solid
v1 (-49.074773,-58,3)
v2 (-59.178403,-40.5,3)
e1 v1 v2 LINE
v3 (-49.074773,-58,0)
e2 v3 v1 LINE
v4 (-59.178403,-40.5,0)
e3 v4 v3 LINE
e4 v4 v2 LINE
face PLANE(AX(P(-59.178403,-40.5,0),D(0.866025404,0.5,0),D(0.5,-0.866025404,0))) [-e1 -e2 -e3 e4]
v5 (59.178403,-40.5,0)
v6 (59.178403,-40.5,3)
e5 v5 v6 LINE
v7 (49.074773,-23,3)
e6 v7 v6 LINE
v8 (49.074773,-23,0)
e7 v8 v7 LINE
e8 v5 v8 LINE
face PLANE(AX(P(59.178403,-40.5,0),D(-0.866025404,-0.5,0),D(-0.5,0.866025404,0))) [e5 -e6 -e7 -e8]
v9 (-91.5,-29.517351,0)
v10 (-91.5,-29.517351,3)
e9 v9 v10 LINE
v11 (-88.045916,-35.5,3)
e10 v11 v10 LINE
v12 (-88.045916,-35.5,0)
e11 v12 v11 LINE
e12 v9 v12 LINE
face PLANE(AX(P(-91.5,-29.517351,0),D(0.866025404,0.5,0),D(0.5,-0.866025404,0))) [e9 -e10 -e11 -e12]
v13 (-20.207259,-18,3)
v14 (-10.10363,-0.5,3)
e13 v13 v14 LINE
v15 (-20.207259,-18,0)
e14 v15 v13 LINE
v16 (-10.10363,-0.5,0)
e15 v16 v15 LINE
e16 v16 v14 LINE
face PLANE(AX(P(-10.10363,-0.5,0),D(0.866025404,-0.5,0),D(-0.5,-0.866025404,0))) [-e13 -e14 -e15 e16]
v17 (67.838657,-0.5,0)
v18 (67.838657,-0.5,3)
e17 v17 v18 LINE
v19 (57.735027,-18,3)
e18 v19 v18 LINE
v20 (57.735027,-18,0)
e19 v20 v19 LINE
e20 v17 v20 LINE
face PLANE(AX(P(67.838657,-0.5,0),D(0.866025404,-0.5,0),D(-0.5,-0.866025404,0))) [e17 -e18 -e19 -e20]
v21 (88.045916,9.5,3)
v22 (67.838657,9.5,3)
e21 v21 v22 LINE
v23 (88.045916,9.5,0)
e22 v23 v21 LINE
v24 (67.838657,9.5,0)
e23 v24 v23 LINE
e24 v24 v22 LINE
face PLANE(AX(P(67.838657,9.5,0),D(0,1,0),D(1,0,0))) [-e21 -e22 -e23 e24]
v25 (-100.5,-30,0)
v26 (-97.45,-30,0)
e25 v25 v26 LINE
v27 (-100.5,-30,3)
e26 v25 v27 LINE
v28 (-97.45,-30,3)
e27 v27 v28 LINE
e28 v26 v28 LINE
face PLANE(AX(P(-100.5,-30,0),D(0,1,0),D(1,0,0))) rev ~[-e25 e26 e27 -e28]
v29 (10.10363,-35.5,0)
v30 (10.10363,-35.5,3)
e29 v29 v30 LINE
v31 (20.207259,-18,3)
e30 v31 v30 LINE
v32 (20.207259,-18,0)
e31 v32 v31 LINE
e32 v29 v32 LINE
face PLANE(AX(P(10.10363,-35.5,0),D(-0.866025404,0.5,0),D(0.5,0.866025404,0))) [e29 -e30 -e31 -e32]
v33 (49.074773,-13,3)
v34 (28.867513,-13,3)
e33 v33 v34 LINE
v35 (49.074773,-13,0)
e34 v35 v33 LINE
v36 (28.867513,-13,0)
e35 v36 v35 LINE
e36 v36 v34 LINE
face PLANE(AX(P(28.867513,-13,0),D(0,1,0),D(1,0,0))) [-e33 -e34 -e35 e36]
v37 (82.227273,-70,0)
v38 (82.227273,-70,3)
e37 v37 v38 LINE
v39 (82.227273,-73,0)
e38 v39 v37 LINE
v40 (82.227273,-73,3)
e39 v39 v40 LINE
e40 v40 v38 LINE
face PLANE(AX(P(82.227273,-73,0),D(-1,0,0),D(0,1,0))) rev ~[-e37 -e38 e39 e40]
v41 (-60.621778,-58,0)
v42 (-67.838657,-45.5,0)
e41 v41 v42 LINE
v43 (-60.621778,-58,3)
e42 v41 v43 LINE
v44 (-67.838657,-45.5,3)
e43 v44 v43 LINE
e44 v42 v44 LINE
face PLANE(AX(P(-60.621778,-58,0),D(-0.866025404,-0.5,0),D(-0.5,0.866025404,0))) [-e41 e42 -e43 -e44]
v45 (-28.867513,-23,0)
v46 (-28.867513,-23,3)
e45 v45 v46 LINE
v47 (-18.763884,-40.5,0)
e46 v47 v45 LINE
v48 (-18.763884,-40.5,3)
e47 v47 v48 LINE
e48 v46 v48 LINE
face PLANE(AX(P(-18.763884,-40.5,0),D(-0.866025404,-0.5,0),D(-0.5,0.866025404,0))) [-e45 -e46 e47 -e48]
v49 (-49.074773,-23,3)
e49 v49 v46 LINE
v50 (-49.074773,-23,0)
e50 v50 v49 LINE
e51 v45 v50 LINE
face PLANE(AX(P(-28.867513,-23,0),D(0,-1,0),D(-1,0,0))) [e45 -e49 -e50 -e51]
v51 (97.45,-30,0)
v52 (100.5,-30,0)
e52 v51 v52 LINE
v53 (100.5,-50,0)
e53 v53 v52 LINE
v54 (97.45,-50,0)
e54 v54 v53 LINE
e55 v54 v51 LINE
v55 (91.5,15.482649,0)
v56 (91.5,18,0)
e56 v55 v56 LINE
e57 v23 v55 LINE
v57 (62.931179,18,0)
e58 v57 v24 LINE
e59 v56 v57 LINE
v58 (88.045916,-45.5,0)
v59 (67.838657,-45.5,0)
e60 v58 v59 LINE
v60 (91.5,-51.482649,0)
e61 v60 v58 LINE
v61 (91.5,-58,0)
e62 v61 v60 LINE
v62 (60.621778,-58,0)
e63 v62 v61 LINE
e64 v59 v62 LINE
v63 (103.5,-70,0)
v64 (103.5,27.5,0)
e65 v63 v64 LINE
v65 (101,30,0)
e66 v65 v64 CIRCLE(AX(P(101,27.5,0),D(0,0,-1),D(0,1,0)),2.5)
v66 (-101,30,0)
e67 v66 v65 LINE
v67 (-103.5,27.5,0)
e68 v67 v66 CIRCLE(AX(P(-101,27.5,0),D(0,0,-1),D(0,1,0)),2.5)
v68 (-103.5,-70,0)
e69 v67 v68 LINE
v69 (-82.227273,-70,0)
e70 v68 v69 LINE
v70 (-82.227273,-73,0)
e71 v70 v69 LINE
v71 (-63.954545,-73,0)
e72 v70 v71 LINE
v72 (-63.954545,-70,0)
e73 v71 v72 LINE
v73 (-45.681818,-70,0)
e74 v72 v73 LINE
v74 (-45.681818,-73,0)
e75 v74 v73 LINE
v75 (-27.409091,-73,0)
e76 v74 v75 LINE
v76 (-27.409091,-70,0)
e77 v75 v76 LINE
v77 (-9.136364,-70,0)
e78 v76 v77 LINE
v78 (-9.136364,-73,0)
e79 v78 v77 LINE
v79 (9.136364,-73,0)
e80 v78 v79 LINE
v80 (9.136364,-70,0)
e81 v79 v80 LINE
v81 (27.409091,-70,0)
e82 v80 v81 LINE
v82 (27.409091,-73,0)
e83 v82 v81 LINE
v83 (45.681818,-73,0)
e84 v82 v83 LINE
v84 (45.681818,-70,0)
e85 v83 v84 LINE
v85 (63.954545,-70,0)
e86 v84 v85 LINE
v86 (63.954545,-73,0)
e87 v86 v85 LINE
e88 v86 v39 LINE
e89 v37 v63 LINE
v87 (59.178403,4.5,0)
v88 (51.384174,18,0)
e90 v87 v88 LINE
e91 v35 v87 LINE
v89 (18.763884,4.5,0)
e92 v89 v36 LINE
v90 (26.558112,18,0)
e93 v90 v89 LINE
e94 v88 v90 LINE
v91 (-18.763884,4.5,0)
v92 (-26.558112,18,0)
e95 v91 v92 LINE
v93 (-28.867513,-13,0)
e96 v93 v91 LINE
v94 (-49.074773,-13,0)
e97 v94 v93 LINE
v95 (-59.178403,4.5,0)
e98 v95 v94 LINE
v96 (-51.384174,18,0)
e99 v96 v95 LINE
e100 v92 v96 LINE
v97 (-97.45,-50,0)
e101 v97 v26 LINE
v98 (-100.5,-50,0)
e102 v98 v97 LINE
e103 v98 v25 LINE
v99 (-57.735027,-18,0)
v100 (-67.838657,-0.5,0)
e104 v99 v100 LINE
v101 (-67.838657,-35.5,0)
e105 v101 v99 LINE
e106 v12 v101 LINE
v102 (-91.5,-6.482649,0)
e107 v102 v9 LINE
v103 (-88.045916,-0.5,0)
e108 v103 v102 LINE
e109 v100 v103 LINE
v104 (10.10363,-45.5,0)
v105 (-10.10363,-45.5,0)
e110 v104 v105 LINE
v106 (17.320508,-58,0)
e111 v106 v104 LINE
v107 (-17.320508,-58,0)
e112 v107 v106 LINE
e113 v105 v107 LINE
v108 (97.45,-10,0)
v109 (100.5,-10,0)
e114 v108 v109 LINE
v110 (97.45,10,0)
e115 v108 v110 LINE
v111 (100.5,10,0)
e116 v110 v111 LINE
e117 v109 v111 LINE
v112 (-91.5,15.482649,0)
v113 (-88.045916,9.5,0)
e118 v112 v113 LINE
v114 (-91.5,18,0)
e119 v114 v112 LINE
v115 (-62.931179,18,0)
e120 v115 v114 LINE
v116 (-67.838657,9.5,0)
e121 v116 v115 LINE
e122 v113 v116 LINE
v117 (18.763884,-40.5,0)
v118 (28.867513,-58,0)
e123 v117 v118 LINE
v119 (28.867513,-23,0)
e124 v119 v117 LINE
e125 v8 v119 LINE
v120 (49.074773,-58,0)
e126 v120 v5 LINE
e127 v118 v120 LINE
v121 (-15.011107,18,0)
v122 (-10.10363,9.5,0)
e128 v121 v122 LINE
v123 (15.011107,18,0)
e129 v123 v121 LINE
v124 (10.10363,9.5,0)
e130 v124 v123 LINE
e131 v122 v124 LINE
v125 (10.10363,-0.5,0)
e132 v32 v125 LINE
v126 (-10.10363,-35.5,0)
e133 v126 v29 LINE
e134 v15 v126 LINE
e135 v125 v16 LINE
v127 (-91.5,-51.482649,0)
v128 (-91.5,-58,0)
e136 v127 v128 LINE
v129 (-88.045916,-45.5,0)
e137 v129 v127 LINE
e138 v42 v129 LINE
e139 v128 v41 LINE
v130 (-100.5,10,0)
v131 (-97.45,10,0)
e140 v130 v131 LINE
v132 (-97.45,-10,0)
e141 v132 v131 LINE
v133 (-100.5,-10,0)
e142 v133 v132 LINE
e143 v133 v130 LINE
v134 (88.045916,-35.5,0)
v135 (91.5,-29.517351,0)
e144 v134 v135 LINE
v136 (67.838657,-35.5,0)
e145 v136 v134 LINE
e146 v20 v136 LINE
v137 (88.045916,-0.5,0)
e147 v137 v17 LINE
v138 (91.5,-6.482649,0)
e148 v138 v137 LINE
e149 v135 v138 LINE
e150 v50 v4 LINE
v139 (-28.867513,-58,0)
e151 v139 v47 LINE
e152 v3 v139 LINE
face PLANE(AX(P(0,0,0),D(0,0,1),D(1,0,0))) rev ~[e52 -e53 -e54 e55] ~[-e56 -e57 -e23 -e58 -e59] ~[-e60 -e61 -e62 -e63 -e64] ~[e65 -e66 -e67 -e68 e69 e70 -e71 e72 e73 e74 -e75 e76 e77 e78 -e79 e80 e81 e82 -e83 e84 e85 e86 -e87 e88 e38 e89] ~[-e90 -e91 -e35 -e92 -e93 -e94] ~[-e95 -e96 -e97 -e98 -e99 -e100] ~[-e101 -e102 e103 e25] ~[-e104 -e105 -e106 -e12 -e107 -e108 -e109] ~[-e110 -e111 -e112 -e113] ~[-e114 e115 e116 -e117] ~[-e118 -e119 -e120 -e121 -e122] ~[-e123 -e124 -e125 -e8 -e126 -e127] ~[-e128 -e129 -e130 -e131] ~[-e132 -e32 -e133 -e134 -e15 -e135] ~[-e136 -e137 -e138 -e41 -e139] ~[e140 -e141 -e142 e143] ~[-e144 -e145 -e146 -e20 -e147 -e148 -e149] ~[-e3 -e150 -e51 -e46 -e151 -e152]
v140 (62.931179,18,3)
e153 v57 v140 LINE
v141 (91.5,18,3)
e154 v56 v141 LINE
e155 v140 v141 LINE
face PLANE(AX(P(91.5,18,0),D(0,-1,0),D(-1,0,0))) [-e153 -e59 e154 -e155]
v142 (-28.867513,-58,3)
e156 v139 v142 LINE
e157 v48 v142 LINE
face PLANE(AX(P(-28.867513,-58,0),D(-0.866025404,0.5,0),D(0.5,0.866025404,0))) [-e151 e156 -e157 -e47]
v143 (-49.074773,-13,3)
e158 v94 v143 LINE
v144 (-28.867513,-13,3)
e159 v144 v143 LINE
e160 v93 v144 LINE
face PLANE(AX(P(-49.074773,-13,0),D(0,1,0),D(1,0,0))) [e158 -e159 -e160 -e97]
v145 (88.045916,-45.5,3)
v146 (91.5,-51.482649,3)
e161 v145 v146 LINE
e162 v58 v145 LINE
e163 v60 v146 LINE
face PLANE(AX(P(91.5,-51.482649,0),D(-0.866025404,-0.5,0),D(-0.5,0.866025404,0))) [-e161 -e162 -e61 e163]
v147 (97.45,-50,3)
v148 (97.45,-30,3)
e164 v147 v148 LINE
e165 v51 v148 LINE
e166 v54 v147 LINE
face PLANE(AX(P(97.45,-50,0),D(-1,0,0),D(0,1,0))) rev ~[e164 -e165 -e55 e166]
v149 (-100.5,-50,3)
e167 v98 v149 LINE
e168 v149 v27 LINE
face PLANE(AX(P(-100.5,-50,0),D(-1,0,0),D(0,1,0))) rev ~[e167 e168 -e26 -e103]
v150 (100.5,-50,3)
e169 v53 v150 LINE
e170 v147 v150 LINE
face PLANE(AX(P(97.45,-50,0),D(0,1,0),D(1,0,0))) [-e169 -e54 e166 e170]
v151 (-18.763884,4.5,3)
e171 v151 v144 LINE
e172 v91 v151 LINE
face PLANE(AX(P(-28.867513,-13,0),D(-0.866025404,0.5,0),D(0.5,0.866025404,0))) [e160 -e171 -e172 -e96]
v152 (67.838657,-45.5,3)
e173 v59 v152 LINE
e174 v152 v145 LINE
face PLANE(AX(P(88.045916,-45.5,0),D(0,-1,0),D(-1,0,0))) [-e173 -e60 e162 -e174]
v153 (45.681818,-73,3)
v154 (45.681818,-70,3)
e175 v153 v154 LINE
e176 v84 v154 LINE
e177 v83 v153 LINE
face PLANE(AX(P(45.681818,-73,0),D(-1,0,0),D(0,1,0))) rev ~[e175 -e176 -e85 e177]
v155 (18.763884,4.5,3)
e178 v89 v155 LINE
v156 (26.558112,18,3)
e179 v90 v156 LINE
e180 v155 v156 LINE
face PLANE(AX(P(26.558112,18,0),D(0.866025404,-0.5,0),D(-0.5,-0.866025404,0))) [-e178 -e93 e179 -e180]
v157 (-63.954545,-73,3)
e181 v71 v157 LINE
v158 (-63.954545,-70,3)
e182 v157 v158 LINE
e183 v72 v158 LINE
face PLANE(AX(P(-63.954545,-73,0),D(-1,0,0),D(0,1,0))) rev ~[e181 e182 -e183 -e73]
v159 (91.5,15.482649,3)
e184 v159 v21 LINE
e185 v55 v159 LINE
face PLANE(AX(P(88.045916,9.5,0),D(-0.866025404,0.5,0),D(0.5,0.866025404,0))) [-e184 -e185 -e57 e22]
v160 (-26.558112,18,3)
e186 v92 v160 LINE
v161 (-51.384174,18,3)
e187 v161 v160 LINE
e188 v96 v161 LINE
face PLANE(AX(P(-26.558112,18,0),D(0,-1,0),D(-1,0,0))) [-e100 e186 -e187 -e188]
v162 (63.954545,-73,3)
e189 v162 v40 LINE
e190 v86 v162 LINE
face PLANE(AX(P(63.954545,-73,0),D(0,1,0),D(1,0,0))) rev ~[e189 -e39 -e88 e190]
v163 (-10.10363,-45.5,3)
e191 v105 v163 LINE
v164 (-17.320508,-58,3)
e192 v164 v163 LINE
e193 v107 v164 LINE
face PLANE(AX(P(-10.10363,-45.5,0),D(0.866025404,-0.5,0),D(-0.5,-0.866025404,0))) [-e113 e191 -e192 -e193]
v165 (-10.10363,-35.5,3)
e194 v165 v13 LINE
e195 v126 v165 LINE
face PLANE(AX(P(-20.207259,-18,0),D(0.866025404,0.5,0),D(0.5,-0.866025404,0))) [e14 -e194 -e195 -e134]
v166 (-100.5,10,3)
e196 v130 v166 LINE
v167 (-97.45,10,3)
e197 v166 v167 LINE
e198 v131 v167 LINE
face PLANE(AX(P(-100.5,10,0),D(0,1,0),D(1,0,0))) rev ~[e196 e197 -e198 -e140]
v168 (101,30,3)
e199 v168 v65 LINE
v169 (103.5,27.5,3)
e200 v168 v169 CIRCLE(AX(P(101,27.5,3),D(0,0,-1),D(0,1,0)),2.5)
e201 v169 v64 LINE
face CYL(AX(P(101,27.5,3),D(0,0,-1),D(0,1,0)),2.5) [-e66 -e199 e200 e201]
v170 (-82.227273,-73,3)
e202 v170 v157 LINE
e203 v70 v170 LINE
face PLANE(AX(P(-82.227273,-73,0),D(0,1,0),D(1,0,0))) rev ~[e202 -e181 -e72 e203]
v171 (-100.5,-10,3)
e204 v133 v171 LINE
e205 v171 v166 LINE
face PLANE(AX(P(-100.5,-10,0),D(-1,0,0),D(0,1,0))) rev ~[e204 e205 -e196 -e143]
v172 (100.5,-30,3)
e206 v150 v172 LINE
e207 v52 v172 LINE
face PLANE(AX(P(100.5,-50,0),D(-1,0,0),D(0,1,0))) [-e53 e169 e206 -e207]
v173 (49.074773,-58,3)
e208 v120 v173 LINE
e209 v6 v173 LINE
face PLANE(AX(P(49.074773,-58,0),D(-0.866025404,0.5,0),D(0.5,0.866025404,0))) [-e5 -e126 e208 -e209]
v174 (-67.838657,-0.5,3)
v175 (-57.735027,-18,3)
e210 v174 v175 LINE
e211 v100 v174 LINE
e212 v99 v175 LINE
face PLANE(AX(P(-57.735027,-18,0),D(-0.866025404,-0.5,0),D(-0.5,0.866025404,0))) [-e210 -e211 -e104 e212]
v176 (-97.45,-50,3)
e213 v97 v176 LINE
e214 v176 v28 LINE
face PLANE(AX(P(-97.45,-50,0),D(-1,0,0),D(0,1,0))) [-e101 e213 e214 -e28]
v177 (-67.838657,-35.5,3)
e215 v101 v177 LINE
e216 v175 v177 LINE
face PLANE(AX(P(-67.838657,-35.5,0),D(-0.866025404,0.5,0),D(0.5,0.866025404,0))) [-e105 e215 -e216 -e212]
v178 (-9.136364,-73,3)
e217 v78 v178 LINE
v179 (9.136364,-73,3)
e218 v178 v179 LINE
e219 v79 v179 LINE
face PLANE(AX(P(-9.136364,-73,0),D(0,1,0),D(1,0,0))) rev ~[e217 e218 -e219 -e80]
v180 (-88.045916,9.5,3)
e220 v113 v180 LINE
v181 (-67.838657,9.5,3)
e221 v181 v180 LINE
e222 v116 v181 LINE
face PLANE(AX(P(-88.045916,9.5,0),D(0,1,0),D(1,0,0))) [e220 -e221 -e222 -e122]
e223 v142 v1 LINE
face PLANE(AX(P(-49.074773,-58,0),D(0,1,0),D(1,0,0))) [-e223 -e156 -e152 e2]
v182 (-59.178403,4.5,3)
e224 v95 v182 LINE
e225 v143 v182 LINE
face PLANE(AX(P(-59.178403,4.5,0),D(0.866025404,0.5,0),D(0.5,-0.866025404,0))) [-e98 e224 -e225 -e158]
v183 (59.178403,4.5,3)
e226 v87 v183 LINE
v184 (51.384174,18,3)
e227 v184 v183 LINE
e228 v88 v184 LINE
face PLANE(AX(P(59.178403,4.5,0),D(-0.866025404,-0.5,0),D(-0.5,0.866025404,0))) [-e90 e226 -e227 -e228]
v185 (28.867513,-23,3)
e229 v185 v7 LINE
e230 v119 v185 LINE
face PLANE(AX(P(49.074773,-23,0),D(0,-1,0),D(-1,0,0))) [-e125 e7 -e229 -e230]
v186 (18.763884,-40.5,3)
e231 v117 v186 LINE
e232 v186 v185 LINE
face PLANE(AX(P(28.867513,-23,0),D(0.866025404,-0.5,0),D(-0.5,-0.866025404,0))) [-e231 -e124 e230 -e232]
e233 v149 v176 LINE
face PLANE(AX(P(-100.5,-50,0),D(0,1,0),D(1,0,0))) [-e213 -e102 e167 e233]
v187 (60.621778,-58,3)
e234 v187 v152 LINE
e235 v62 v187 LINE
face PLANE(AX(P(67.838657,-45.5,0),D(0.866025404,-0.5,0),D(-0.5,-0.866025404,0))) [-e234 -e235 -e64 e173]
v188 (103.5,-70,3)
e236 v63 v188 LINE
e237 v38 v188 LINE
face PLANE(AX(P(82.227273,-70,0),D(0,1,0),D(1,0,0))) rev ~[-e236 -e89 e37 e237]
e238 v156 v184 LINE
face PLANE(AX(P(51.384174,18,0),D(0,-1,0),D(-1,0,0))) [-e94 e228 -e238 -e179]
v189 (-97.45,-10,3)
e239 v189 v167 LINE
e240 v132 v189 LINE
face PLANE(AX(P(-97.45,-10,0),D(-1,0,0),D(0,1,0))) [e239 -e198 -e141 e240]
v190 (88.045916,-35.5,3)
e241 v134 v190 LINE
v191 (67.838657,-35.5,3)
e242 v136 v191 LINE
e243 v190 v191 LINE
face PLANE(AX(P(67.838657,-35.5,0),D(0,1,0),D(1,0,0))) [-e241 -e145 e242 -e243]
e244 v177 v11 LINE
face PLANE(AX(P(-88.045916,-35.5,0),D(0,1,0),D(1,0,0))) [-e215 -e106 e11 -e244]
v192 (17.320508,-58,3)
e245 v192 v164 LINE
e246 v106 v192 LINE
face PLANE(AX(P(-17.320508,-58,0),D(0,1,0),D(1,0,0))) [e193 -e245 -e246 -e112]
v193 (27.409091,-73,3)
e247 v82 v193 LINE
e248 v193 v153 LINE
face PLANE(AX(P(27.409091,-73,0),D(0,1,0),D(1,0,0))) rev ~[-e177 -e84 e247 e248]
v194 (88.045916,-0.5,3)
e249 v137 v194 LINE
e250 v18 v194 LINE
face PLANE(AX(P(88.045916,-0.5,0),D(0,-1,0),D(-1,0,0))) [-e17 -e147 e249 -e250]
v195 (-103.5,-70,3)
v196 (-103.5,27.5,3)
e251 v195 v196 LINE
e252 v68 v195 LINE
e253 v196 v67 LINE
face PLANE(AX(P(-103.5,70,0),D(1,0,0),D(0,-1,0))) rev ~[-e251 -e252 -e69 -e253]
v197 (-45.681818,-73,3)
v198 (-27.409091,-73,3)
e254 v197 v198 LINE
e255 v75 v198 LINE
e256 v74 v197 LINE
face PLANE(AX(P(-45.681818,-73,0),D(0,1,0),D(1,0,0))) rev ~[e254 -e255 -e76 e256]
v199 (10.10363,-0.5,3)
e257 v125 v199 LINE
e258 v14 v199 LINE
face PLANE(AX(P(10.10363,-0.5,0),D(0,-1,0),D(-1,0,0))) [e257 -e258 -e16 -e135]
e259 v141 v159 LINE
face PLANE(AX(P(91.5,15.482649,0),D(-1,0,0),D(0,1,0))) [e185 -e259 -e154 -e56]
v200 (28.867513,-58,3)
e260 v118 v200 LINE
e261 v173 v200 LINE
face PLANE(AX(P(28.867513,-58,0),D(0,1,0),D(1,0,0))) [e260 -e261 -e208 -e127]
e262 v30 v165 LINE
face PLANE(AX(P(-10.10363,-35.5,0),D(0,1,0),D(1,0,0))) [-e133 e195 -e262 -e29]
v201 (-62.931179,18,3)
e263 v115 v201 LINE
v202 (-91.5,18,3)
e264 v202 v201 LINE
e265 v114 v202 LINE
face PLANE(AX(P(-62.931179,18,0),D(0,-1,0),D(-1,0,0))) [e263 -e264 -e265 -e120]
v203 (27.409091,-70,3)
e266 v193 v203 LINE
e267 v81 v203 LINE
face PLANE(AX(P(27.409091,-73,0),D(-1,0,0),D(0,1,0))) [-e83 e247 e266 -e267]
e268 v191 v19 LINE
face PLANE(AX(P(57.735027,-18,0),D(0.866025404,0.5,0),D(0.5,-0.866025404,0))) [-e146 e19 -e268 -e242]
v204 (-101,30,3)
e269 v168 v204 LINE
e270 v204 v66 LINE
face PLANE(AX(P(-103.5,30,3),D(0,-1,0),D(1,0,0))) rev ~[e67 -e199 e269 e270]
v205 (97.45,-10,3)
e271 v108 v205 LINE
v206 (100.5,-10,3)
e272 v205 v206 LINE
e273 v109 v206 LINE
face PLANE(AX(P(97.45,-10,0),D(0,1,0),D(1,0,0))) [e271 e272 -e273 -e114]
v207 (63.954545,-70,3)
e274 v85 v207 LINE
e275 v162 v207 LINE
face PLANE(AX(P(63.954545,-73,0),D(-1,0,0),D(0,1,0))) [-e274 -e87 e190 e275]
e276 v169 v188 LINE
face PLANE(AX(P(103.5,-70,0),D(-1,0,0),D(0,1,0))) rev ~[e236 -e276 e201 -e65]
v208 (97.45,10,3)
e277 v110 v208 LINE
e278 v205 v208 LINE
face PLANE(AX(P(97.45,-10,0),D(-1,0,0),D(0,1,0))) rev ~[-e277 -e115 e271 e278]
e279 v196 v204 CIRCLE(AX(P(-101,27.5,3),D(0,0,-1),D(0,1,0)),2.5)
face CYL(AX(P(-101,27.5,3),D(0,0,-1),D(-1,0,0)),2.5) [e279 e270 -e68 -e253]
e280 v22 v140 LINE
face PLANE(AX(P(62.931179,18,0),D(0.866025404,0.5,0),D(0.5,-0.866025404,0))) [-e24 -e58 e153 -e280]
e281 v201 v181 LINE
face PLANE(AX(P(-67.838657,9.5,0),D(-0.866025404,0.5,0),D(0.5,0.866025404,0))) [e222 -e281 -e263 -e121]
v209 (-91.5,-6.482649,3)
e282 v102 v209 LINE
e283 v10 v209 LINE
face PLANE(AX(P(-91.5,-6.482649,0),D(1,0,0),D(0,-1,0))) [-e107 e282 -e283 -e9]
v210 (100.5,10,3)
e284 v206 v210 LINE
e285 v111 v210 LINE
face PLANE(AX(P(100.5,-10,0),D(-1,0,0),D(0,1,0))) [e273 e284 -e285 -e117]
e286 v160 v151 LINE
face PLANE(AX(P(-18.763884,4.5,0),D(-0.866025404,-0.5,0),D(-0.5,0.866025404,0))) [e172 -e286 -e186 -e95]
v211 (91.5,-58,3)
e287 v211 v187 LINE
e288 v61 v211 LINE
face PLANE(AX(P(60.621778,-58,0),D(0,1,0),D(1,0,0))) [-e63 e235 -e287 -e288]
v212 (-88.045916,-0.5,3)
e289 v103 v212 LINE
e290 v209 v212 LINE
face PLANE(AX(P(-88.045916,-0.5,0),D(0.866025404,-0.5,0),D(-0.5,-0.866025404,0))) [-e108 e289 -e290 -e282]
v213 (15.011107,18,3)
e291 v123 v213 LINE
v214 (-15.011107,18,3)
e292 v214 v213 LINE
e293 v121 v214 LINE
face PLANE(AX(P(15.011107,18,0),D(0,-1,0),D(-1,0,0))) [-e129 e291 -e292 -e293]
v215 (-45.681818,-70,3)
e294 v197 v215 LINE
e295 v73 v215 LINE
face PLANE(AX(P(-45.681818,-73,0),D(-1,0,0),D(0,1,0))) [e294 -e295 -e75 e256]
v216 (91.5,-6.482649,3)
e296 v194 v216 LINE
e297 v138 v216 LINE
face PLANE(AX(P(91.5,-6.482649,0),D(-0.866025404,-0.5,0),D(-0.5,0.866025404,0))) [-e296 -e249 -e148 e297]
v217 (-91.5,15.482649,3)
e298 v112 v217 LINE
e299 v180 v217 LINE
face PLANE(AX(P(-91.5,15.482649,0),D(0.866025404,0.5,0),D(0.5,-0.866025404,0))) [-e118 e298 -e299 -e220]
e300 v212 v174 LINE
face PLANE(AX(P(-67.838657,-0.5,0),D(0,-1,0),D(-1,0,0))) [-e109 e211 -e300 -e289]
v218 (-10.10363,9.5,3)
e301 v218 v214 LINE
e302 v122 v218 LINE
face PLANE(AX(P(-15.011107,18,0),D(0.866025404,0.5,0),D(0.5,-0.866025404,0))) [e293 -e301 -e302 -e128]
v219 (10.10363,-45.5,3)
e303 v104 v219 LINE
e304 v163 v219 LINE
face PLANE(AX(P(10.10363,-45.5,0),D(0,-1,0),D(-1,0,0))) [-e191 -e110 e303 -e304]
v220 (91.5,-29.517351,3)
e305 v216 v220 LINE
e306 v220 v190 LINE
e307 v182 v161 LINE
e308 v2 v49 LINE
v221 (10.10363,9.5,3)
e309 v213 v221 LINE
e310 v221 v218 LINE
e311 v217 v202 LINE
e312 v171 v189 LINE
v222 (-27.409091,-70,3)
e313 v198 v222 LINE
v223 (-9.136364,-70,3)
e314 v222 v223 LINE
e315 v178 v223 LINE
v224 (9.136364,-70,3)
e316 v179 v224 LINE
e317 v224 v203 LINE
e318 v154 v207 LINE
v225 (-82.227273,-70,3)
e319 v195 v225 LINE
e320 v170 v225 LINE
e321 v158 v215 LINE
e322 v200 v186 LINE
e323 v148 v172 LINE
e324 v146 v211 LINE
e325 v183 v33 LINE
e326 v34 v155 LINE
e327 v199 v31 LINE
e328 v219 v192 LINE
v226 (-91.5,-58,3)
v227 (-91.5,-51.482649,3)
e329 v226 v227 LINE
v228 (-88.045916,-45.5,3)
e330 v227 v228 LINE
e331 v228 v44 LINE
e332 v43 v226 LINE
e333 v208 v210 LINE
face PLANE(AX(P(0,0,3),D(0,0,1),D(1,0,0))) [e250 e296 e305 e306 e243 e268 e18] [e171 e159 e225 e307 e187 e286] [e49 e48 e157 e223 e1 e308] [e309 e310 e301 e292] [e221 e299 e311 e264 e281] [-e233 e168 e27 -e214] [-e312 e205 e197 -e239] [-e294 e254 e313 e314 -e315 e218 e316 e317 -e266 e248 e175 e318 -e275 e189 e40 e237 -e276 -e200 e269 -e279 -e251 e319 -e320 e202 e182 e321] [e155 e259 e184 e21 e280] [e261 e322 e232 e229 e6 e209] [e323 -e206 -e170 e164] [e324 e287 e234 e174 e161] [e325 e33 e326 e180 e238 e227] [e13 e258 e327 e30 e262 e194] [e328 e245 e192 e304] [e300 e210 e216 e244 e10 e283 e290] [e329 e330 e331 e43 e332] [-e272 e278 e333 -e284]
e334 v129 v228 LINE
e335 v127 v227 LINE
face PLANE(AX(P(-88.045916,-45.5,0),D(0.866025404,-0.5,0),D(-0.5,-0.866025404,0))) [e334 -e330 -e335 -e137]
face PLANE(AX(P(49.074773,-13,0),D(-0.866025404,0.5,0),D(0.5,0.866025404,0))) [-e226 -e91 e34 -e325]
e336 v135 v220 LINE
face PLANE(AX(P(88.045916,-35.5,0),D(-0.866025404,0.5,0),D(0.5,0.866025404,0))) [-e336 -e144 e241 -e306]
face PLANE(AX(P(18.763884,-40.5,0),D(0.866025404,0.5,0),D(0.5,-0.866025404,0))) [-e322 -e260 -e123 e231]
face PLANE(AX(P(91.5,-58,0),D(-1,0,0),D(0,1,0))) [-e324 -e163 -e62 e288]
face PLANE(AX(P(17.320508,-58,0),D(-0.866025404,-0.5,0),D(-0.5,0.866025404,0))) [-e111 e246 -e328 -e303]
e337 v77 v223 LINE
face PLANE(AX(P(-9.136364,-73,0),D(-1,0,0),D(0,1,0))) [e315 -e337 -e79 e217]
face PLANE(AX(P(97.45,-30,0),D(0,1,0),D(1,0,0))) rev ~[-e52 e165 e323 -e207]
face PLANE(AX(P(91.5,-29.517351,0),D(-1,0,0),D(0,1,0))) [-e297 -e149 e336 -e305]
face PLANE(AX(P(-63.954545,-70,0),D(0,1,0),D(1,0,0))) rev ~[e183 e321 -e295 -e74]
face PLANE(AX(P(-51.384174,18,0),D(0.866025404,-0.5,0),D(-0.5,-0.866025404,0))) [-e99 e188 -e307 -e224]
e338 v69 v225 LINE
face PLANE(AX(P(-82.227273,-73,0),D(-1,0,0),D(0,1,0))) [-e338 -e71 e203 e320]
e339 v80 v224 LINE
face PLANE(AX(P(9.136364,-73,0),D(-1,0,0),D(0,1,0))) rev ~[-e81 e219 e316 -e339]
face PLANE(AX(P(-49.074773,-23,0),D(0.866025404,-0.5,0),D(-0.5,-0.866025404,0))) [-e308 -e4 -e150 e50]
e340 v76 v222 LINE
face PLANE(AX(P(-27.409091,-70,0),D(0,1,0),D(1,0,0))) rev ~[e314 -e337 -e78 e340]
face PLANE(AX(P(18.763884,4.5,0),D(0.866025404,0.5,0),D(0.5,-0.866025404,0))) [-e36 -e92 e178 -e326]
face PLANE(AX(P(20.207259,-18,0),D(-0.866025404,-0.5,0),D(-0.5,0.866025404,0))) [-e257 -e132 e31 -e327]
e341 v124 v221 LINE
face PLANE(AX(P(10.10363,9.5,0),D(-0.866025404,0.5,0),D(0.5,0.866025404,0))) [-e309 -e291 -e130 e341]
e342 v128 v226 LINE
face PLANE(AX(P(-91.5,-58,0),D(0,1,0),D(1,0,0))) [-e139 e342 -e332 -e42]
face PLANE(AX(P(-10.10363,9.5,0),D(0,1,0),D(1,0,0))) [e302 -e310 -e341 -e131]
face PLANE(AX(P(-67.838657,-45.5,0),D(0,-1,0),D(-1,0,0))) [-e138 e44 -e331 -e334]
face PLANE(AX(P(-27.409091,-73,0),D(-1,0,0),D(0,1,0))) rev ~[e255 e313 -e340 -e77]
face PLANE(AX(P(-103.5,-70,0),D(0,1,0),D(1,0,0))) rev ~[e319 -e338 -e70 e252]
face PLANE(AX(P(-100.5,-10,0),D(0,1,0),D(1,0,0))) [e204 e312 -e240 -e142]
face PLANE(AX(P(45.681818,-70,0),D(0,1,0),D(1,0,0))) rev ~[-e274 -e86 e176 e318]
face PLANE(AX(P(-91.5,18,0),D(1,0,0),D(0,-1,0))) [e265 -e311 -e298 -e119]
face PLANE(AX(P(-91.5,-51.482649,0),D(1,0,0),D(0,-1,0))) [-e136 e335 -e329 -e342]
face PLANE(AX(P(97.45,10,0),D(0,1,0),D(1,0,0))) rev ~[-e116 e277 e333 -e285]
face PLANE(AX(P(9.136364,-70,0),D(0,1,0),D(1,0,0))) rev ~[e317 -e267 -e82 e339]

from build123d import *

# Parameters (mm, degrees)
SKETCH1_W               = 3.05
SKETCH1_H               = 20
SKETCH1_W_2             = 18.272727272
SKETCH1_H_2             = 3
SKETCH1_W_3             = 18.272727273
BOSS_EXTRUDE1_DEPTH     = 3
SKETCH5_W               = 207
SKETCH5_H               = 40
CUT_EXTRUDE7_DEPTH      = 1
CUT_EXTRUDE7_DEPTH_BACK = 4
FILLET3_R               = 2.5
CUT_EXTRUDE8_DEPTH      = 4
CUT_EXTRUDE8_DEPTH_BACK = 1


with BuildPart() as part:
    # Sketch1 → Boss-Extrude1 (new body)
    with BuildSketch(Plane.XY):
        Polygon((-103.5, 70), (-103.5, -70), (-82.227272727, -70), (-63.954545455, -70), (-45.681818182, -70), (-27.409090909, -70), (-9.136363636, -70), (9.136363636, -70), (27.409090909, -70), (45.681818182, -70), (63.954545455, -70), (82.227272727, -70), (103.5, -70), (103.5, 70), align=None)
        with Locations((-98.975, -40)):
            Rectangle(SKETCH1_W, SKETCH1_H, mode=Mode.SUBTRACT)
        with Locations((98.975, -40)):
            Rectangle(SKETCH1_W, SKETCH1_H, mode=Mode.SUBTRACT)
        with Locations((-98.975, 0)):
            Rectangle(SKETCH1_W, SKETCH1_H, mode=Mode.SUBTRACT)
        with Locations((-98.975, 40)):
            Rectangle(SKETCH1_W, SKETCH1_H, mode=Mode.SUBTRACT)
        with Locations((98.975, 0)):
            Rectangle(SKETCH1_W, SKETCH1_H, mode=Mode.SUBTRACT)
        with Locations((98.975, 40)):
            Rectangle(SKETCH1_W, SKETCH1_H, mode=Mode.SUBTRACT)
        with Locations((-73.090909091, -71.5)):
            Rectangle(SKETCH1_W_2, SKETCH1_H_2)
        with Locations((-36.545454546, -71.5)):
            Rectangle(SKETCH1_W_3, SKETCH1_H_2)
        with Locations((0, -71.5)):
            Rectangle(SKETCH1_W_2, SKETCH1_H_2)
        with Locations((36.545454546, -71.5)):
            Rectangle(SKETCH1_W_3, SKETCH1_H_2)
        with Locations((73.090909091, -71.5)):
            Rectangle(SKETCH1_W_2, SKETCH1_H_2)
    extrude(amount=BOSS_EXTRUDE1_DEPTH)

    # Sketch5 → Cut-Extrude7 (cut, two sides)
    with BuildSketch(Plane.XY.offset(3)) as cut_extrude7_sk:
        with Locations((0, 50)):
            Rectangle(SKETCH5_W, SKETCH5_H)
    extrude(amount=CUT_EXTRUDE7_DEPTH, mode=Mode.SUBTRACT)
    extrude(cut_extrude7_sk.sketch, amount=-CUT_EXTRUDE7_DEPTH_BACK, mode=Mode.SUBTRACT)

    # Fillet3
    fillet3_edges = [part.edges().sort_by_distance(p)[0] for p in [
        (103.5, 30, 1.5),
        (-103.5, 30, 1.5),
    ]]
    fillet(fillet3_edges, radius=FILLET3_R)

    # Sketch6 → Cut-Extrude8 (cut, two sides)
    with BuildSketch(Plane.XY) as cut_extrude8_sk:
        Polygon((-88.045916051, -0.5), (-91.5, -6.482648893), (-91.5, -29.517351107), (-88.045916051, -35.5), (-67.83865663, -35.5), (-57.735026919, -18), (-67.83865663, -0.5), align=None)
        Polygon((-62.931179342, 18), (-91.5, 18), (-91.5, 15.482648893), (-88.045916051, 9.5), (-67.83865663, 9.5), align=None)
        Polygon((-26.558112383, 18), (-51.384173958, 18), (-59.178402592, 4.5), (-49.074772881, -13), (-28.867513459, -13), (-18.763883749, 4.5), align=None)
        Polygon((10.103629711, -35.5), (20.207259422, -18), (10.103629711, -0.5), (-10.103629711, -0.5), (-20.207259422, -18), (-10.103629711, -35.5), align=None)
        Polygon((51.384173958, 18), (26.558112383, 18), (18.763883749, 4.5), (28.867513459, -13), (49.074772881, -13), (59.178402592, 4.5), align=None)
        Polygon((91.5, -29.517351107), (91.5, -6.482648893), (88.045916051, -0.5), (67.83865663, -0.5), (57.735026919, -18), (67.83865663, -35.5), (88.045916051, -35.5), align=None)
        Polygon((91.5, 15.482648893), (91.5, 18), (62.931179342, 18), (67.83865663, 9.5), (88.045916051, 9.5), align=None)
        Polygon((15.011106999, 18), (-15.011106999, 18), (-10.103629711, 9.5), (10.103629711, 9.5), align=None)
        Polygon((-28.867513459, -23), (-49.074772881, -23), (-59.178402592, -40.5), (-49.074772881, -58), (-28.867513459, -58), (-18.763883749, -40.5), align=None)
        Polygon((-88.045916051, -45.5), (-91.5, -51.482648893), (-91.5, -58), (-60.621778265, -58), (-67.83865663, -45.5), align=None)
        Polygon((-10.103629711, -45.5), (-17.320508076, -58), (17.320508076, -58), (10.103629711, -45.5), align=None)
        Polygon((49.074772881, -23), (28.867513459, -23), (18.763883749, -40.5), (28.867513459, -58), (49.074772881, -58), (59.178402592, -40.5), align=None)
        Polygon((91.5, -58), (91.5, -51.482648893), (88.045916051, -45.5), (67.83865663, -45.5), (60.621778265, -58), align=None)
    extrude(amount=CUT_EXTRUDE8_DEPTH, mode=Mode.SUBTRACT)
    extrude(cut_extrude8_sk.sketch, amount=-CUT_EXTRUDE8_DEPTH_BACK, mode=Mode.SUBTRACT)


solid = part.part
